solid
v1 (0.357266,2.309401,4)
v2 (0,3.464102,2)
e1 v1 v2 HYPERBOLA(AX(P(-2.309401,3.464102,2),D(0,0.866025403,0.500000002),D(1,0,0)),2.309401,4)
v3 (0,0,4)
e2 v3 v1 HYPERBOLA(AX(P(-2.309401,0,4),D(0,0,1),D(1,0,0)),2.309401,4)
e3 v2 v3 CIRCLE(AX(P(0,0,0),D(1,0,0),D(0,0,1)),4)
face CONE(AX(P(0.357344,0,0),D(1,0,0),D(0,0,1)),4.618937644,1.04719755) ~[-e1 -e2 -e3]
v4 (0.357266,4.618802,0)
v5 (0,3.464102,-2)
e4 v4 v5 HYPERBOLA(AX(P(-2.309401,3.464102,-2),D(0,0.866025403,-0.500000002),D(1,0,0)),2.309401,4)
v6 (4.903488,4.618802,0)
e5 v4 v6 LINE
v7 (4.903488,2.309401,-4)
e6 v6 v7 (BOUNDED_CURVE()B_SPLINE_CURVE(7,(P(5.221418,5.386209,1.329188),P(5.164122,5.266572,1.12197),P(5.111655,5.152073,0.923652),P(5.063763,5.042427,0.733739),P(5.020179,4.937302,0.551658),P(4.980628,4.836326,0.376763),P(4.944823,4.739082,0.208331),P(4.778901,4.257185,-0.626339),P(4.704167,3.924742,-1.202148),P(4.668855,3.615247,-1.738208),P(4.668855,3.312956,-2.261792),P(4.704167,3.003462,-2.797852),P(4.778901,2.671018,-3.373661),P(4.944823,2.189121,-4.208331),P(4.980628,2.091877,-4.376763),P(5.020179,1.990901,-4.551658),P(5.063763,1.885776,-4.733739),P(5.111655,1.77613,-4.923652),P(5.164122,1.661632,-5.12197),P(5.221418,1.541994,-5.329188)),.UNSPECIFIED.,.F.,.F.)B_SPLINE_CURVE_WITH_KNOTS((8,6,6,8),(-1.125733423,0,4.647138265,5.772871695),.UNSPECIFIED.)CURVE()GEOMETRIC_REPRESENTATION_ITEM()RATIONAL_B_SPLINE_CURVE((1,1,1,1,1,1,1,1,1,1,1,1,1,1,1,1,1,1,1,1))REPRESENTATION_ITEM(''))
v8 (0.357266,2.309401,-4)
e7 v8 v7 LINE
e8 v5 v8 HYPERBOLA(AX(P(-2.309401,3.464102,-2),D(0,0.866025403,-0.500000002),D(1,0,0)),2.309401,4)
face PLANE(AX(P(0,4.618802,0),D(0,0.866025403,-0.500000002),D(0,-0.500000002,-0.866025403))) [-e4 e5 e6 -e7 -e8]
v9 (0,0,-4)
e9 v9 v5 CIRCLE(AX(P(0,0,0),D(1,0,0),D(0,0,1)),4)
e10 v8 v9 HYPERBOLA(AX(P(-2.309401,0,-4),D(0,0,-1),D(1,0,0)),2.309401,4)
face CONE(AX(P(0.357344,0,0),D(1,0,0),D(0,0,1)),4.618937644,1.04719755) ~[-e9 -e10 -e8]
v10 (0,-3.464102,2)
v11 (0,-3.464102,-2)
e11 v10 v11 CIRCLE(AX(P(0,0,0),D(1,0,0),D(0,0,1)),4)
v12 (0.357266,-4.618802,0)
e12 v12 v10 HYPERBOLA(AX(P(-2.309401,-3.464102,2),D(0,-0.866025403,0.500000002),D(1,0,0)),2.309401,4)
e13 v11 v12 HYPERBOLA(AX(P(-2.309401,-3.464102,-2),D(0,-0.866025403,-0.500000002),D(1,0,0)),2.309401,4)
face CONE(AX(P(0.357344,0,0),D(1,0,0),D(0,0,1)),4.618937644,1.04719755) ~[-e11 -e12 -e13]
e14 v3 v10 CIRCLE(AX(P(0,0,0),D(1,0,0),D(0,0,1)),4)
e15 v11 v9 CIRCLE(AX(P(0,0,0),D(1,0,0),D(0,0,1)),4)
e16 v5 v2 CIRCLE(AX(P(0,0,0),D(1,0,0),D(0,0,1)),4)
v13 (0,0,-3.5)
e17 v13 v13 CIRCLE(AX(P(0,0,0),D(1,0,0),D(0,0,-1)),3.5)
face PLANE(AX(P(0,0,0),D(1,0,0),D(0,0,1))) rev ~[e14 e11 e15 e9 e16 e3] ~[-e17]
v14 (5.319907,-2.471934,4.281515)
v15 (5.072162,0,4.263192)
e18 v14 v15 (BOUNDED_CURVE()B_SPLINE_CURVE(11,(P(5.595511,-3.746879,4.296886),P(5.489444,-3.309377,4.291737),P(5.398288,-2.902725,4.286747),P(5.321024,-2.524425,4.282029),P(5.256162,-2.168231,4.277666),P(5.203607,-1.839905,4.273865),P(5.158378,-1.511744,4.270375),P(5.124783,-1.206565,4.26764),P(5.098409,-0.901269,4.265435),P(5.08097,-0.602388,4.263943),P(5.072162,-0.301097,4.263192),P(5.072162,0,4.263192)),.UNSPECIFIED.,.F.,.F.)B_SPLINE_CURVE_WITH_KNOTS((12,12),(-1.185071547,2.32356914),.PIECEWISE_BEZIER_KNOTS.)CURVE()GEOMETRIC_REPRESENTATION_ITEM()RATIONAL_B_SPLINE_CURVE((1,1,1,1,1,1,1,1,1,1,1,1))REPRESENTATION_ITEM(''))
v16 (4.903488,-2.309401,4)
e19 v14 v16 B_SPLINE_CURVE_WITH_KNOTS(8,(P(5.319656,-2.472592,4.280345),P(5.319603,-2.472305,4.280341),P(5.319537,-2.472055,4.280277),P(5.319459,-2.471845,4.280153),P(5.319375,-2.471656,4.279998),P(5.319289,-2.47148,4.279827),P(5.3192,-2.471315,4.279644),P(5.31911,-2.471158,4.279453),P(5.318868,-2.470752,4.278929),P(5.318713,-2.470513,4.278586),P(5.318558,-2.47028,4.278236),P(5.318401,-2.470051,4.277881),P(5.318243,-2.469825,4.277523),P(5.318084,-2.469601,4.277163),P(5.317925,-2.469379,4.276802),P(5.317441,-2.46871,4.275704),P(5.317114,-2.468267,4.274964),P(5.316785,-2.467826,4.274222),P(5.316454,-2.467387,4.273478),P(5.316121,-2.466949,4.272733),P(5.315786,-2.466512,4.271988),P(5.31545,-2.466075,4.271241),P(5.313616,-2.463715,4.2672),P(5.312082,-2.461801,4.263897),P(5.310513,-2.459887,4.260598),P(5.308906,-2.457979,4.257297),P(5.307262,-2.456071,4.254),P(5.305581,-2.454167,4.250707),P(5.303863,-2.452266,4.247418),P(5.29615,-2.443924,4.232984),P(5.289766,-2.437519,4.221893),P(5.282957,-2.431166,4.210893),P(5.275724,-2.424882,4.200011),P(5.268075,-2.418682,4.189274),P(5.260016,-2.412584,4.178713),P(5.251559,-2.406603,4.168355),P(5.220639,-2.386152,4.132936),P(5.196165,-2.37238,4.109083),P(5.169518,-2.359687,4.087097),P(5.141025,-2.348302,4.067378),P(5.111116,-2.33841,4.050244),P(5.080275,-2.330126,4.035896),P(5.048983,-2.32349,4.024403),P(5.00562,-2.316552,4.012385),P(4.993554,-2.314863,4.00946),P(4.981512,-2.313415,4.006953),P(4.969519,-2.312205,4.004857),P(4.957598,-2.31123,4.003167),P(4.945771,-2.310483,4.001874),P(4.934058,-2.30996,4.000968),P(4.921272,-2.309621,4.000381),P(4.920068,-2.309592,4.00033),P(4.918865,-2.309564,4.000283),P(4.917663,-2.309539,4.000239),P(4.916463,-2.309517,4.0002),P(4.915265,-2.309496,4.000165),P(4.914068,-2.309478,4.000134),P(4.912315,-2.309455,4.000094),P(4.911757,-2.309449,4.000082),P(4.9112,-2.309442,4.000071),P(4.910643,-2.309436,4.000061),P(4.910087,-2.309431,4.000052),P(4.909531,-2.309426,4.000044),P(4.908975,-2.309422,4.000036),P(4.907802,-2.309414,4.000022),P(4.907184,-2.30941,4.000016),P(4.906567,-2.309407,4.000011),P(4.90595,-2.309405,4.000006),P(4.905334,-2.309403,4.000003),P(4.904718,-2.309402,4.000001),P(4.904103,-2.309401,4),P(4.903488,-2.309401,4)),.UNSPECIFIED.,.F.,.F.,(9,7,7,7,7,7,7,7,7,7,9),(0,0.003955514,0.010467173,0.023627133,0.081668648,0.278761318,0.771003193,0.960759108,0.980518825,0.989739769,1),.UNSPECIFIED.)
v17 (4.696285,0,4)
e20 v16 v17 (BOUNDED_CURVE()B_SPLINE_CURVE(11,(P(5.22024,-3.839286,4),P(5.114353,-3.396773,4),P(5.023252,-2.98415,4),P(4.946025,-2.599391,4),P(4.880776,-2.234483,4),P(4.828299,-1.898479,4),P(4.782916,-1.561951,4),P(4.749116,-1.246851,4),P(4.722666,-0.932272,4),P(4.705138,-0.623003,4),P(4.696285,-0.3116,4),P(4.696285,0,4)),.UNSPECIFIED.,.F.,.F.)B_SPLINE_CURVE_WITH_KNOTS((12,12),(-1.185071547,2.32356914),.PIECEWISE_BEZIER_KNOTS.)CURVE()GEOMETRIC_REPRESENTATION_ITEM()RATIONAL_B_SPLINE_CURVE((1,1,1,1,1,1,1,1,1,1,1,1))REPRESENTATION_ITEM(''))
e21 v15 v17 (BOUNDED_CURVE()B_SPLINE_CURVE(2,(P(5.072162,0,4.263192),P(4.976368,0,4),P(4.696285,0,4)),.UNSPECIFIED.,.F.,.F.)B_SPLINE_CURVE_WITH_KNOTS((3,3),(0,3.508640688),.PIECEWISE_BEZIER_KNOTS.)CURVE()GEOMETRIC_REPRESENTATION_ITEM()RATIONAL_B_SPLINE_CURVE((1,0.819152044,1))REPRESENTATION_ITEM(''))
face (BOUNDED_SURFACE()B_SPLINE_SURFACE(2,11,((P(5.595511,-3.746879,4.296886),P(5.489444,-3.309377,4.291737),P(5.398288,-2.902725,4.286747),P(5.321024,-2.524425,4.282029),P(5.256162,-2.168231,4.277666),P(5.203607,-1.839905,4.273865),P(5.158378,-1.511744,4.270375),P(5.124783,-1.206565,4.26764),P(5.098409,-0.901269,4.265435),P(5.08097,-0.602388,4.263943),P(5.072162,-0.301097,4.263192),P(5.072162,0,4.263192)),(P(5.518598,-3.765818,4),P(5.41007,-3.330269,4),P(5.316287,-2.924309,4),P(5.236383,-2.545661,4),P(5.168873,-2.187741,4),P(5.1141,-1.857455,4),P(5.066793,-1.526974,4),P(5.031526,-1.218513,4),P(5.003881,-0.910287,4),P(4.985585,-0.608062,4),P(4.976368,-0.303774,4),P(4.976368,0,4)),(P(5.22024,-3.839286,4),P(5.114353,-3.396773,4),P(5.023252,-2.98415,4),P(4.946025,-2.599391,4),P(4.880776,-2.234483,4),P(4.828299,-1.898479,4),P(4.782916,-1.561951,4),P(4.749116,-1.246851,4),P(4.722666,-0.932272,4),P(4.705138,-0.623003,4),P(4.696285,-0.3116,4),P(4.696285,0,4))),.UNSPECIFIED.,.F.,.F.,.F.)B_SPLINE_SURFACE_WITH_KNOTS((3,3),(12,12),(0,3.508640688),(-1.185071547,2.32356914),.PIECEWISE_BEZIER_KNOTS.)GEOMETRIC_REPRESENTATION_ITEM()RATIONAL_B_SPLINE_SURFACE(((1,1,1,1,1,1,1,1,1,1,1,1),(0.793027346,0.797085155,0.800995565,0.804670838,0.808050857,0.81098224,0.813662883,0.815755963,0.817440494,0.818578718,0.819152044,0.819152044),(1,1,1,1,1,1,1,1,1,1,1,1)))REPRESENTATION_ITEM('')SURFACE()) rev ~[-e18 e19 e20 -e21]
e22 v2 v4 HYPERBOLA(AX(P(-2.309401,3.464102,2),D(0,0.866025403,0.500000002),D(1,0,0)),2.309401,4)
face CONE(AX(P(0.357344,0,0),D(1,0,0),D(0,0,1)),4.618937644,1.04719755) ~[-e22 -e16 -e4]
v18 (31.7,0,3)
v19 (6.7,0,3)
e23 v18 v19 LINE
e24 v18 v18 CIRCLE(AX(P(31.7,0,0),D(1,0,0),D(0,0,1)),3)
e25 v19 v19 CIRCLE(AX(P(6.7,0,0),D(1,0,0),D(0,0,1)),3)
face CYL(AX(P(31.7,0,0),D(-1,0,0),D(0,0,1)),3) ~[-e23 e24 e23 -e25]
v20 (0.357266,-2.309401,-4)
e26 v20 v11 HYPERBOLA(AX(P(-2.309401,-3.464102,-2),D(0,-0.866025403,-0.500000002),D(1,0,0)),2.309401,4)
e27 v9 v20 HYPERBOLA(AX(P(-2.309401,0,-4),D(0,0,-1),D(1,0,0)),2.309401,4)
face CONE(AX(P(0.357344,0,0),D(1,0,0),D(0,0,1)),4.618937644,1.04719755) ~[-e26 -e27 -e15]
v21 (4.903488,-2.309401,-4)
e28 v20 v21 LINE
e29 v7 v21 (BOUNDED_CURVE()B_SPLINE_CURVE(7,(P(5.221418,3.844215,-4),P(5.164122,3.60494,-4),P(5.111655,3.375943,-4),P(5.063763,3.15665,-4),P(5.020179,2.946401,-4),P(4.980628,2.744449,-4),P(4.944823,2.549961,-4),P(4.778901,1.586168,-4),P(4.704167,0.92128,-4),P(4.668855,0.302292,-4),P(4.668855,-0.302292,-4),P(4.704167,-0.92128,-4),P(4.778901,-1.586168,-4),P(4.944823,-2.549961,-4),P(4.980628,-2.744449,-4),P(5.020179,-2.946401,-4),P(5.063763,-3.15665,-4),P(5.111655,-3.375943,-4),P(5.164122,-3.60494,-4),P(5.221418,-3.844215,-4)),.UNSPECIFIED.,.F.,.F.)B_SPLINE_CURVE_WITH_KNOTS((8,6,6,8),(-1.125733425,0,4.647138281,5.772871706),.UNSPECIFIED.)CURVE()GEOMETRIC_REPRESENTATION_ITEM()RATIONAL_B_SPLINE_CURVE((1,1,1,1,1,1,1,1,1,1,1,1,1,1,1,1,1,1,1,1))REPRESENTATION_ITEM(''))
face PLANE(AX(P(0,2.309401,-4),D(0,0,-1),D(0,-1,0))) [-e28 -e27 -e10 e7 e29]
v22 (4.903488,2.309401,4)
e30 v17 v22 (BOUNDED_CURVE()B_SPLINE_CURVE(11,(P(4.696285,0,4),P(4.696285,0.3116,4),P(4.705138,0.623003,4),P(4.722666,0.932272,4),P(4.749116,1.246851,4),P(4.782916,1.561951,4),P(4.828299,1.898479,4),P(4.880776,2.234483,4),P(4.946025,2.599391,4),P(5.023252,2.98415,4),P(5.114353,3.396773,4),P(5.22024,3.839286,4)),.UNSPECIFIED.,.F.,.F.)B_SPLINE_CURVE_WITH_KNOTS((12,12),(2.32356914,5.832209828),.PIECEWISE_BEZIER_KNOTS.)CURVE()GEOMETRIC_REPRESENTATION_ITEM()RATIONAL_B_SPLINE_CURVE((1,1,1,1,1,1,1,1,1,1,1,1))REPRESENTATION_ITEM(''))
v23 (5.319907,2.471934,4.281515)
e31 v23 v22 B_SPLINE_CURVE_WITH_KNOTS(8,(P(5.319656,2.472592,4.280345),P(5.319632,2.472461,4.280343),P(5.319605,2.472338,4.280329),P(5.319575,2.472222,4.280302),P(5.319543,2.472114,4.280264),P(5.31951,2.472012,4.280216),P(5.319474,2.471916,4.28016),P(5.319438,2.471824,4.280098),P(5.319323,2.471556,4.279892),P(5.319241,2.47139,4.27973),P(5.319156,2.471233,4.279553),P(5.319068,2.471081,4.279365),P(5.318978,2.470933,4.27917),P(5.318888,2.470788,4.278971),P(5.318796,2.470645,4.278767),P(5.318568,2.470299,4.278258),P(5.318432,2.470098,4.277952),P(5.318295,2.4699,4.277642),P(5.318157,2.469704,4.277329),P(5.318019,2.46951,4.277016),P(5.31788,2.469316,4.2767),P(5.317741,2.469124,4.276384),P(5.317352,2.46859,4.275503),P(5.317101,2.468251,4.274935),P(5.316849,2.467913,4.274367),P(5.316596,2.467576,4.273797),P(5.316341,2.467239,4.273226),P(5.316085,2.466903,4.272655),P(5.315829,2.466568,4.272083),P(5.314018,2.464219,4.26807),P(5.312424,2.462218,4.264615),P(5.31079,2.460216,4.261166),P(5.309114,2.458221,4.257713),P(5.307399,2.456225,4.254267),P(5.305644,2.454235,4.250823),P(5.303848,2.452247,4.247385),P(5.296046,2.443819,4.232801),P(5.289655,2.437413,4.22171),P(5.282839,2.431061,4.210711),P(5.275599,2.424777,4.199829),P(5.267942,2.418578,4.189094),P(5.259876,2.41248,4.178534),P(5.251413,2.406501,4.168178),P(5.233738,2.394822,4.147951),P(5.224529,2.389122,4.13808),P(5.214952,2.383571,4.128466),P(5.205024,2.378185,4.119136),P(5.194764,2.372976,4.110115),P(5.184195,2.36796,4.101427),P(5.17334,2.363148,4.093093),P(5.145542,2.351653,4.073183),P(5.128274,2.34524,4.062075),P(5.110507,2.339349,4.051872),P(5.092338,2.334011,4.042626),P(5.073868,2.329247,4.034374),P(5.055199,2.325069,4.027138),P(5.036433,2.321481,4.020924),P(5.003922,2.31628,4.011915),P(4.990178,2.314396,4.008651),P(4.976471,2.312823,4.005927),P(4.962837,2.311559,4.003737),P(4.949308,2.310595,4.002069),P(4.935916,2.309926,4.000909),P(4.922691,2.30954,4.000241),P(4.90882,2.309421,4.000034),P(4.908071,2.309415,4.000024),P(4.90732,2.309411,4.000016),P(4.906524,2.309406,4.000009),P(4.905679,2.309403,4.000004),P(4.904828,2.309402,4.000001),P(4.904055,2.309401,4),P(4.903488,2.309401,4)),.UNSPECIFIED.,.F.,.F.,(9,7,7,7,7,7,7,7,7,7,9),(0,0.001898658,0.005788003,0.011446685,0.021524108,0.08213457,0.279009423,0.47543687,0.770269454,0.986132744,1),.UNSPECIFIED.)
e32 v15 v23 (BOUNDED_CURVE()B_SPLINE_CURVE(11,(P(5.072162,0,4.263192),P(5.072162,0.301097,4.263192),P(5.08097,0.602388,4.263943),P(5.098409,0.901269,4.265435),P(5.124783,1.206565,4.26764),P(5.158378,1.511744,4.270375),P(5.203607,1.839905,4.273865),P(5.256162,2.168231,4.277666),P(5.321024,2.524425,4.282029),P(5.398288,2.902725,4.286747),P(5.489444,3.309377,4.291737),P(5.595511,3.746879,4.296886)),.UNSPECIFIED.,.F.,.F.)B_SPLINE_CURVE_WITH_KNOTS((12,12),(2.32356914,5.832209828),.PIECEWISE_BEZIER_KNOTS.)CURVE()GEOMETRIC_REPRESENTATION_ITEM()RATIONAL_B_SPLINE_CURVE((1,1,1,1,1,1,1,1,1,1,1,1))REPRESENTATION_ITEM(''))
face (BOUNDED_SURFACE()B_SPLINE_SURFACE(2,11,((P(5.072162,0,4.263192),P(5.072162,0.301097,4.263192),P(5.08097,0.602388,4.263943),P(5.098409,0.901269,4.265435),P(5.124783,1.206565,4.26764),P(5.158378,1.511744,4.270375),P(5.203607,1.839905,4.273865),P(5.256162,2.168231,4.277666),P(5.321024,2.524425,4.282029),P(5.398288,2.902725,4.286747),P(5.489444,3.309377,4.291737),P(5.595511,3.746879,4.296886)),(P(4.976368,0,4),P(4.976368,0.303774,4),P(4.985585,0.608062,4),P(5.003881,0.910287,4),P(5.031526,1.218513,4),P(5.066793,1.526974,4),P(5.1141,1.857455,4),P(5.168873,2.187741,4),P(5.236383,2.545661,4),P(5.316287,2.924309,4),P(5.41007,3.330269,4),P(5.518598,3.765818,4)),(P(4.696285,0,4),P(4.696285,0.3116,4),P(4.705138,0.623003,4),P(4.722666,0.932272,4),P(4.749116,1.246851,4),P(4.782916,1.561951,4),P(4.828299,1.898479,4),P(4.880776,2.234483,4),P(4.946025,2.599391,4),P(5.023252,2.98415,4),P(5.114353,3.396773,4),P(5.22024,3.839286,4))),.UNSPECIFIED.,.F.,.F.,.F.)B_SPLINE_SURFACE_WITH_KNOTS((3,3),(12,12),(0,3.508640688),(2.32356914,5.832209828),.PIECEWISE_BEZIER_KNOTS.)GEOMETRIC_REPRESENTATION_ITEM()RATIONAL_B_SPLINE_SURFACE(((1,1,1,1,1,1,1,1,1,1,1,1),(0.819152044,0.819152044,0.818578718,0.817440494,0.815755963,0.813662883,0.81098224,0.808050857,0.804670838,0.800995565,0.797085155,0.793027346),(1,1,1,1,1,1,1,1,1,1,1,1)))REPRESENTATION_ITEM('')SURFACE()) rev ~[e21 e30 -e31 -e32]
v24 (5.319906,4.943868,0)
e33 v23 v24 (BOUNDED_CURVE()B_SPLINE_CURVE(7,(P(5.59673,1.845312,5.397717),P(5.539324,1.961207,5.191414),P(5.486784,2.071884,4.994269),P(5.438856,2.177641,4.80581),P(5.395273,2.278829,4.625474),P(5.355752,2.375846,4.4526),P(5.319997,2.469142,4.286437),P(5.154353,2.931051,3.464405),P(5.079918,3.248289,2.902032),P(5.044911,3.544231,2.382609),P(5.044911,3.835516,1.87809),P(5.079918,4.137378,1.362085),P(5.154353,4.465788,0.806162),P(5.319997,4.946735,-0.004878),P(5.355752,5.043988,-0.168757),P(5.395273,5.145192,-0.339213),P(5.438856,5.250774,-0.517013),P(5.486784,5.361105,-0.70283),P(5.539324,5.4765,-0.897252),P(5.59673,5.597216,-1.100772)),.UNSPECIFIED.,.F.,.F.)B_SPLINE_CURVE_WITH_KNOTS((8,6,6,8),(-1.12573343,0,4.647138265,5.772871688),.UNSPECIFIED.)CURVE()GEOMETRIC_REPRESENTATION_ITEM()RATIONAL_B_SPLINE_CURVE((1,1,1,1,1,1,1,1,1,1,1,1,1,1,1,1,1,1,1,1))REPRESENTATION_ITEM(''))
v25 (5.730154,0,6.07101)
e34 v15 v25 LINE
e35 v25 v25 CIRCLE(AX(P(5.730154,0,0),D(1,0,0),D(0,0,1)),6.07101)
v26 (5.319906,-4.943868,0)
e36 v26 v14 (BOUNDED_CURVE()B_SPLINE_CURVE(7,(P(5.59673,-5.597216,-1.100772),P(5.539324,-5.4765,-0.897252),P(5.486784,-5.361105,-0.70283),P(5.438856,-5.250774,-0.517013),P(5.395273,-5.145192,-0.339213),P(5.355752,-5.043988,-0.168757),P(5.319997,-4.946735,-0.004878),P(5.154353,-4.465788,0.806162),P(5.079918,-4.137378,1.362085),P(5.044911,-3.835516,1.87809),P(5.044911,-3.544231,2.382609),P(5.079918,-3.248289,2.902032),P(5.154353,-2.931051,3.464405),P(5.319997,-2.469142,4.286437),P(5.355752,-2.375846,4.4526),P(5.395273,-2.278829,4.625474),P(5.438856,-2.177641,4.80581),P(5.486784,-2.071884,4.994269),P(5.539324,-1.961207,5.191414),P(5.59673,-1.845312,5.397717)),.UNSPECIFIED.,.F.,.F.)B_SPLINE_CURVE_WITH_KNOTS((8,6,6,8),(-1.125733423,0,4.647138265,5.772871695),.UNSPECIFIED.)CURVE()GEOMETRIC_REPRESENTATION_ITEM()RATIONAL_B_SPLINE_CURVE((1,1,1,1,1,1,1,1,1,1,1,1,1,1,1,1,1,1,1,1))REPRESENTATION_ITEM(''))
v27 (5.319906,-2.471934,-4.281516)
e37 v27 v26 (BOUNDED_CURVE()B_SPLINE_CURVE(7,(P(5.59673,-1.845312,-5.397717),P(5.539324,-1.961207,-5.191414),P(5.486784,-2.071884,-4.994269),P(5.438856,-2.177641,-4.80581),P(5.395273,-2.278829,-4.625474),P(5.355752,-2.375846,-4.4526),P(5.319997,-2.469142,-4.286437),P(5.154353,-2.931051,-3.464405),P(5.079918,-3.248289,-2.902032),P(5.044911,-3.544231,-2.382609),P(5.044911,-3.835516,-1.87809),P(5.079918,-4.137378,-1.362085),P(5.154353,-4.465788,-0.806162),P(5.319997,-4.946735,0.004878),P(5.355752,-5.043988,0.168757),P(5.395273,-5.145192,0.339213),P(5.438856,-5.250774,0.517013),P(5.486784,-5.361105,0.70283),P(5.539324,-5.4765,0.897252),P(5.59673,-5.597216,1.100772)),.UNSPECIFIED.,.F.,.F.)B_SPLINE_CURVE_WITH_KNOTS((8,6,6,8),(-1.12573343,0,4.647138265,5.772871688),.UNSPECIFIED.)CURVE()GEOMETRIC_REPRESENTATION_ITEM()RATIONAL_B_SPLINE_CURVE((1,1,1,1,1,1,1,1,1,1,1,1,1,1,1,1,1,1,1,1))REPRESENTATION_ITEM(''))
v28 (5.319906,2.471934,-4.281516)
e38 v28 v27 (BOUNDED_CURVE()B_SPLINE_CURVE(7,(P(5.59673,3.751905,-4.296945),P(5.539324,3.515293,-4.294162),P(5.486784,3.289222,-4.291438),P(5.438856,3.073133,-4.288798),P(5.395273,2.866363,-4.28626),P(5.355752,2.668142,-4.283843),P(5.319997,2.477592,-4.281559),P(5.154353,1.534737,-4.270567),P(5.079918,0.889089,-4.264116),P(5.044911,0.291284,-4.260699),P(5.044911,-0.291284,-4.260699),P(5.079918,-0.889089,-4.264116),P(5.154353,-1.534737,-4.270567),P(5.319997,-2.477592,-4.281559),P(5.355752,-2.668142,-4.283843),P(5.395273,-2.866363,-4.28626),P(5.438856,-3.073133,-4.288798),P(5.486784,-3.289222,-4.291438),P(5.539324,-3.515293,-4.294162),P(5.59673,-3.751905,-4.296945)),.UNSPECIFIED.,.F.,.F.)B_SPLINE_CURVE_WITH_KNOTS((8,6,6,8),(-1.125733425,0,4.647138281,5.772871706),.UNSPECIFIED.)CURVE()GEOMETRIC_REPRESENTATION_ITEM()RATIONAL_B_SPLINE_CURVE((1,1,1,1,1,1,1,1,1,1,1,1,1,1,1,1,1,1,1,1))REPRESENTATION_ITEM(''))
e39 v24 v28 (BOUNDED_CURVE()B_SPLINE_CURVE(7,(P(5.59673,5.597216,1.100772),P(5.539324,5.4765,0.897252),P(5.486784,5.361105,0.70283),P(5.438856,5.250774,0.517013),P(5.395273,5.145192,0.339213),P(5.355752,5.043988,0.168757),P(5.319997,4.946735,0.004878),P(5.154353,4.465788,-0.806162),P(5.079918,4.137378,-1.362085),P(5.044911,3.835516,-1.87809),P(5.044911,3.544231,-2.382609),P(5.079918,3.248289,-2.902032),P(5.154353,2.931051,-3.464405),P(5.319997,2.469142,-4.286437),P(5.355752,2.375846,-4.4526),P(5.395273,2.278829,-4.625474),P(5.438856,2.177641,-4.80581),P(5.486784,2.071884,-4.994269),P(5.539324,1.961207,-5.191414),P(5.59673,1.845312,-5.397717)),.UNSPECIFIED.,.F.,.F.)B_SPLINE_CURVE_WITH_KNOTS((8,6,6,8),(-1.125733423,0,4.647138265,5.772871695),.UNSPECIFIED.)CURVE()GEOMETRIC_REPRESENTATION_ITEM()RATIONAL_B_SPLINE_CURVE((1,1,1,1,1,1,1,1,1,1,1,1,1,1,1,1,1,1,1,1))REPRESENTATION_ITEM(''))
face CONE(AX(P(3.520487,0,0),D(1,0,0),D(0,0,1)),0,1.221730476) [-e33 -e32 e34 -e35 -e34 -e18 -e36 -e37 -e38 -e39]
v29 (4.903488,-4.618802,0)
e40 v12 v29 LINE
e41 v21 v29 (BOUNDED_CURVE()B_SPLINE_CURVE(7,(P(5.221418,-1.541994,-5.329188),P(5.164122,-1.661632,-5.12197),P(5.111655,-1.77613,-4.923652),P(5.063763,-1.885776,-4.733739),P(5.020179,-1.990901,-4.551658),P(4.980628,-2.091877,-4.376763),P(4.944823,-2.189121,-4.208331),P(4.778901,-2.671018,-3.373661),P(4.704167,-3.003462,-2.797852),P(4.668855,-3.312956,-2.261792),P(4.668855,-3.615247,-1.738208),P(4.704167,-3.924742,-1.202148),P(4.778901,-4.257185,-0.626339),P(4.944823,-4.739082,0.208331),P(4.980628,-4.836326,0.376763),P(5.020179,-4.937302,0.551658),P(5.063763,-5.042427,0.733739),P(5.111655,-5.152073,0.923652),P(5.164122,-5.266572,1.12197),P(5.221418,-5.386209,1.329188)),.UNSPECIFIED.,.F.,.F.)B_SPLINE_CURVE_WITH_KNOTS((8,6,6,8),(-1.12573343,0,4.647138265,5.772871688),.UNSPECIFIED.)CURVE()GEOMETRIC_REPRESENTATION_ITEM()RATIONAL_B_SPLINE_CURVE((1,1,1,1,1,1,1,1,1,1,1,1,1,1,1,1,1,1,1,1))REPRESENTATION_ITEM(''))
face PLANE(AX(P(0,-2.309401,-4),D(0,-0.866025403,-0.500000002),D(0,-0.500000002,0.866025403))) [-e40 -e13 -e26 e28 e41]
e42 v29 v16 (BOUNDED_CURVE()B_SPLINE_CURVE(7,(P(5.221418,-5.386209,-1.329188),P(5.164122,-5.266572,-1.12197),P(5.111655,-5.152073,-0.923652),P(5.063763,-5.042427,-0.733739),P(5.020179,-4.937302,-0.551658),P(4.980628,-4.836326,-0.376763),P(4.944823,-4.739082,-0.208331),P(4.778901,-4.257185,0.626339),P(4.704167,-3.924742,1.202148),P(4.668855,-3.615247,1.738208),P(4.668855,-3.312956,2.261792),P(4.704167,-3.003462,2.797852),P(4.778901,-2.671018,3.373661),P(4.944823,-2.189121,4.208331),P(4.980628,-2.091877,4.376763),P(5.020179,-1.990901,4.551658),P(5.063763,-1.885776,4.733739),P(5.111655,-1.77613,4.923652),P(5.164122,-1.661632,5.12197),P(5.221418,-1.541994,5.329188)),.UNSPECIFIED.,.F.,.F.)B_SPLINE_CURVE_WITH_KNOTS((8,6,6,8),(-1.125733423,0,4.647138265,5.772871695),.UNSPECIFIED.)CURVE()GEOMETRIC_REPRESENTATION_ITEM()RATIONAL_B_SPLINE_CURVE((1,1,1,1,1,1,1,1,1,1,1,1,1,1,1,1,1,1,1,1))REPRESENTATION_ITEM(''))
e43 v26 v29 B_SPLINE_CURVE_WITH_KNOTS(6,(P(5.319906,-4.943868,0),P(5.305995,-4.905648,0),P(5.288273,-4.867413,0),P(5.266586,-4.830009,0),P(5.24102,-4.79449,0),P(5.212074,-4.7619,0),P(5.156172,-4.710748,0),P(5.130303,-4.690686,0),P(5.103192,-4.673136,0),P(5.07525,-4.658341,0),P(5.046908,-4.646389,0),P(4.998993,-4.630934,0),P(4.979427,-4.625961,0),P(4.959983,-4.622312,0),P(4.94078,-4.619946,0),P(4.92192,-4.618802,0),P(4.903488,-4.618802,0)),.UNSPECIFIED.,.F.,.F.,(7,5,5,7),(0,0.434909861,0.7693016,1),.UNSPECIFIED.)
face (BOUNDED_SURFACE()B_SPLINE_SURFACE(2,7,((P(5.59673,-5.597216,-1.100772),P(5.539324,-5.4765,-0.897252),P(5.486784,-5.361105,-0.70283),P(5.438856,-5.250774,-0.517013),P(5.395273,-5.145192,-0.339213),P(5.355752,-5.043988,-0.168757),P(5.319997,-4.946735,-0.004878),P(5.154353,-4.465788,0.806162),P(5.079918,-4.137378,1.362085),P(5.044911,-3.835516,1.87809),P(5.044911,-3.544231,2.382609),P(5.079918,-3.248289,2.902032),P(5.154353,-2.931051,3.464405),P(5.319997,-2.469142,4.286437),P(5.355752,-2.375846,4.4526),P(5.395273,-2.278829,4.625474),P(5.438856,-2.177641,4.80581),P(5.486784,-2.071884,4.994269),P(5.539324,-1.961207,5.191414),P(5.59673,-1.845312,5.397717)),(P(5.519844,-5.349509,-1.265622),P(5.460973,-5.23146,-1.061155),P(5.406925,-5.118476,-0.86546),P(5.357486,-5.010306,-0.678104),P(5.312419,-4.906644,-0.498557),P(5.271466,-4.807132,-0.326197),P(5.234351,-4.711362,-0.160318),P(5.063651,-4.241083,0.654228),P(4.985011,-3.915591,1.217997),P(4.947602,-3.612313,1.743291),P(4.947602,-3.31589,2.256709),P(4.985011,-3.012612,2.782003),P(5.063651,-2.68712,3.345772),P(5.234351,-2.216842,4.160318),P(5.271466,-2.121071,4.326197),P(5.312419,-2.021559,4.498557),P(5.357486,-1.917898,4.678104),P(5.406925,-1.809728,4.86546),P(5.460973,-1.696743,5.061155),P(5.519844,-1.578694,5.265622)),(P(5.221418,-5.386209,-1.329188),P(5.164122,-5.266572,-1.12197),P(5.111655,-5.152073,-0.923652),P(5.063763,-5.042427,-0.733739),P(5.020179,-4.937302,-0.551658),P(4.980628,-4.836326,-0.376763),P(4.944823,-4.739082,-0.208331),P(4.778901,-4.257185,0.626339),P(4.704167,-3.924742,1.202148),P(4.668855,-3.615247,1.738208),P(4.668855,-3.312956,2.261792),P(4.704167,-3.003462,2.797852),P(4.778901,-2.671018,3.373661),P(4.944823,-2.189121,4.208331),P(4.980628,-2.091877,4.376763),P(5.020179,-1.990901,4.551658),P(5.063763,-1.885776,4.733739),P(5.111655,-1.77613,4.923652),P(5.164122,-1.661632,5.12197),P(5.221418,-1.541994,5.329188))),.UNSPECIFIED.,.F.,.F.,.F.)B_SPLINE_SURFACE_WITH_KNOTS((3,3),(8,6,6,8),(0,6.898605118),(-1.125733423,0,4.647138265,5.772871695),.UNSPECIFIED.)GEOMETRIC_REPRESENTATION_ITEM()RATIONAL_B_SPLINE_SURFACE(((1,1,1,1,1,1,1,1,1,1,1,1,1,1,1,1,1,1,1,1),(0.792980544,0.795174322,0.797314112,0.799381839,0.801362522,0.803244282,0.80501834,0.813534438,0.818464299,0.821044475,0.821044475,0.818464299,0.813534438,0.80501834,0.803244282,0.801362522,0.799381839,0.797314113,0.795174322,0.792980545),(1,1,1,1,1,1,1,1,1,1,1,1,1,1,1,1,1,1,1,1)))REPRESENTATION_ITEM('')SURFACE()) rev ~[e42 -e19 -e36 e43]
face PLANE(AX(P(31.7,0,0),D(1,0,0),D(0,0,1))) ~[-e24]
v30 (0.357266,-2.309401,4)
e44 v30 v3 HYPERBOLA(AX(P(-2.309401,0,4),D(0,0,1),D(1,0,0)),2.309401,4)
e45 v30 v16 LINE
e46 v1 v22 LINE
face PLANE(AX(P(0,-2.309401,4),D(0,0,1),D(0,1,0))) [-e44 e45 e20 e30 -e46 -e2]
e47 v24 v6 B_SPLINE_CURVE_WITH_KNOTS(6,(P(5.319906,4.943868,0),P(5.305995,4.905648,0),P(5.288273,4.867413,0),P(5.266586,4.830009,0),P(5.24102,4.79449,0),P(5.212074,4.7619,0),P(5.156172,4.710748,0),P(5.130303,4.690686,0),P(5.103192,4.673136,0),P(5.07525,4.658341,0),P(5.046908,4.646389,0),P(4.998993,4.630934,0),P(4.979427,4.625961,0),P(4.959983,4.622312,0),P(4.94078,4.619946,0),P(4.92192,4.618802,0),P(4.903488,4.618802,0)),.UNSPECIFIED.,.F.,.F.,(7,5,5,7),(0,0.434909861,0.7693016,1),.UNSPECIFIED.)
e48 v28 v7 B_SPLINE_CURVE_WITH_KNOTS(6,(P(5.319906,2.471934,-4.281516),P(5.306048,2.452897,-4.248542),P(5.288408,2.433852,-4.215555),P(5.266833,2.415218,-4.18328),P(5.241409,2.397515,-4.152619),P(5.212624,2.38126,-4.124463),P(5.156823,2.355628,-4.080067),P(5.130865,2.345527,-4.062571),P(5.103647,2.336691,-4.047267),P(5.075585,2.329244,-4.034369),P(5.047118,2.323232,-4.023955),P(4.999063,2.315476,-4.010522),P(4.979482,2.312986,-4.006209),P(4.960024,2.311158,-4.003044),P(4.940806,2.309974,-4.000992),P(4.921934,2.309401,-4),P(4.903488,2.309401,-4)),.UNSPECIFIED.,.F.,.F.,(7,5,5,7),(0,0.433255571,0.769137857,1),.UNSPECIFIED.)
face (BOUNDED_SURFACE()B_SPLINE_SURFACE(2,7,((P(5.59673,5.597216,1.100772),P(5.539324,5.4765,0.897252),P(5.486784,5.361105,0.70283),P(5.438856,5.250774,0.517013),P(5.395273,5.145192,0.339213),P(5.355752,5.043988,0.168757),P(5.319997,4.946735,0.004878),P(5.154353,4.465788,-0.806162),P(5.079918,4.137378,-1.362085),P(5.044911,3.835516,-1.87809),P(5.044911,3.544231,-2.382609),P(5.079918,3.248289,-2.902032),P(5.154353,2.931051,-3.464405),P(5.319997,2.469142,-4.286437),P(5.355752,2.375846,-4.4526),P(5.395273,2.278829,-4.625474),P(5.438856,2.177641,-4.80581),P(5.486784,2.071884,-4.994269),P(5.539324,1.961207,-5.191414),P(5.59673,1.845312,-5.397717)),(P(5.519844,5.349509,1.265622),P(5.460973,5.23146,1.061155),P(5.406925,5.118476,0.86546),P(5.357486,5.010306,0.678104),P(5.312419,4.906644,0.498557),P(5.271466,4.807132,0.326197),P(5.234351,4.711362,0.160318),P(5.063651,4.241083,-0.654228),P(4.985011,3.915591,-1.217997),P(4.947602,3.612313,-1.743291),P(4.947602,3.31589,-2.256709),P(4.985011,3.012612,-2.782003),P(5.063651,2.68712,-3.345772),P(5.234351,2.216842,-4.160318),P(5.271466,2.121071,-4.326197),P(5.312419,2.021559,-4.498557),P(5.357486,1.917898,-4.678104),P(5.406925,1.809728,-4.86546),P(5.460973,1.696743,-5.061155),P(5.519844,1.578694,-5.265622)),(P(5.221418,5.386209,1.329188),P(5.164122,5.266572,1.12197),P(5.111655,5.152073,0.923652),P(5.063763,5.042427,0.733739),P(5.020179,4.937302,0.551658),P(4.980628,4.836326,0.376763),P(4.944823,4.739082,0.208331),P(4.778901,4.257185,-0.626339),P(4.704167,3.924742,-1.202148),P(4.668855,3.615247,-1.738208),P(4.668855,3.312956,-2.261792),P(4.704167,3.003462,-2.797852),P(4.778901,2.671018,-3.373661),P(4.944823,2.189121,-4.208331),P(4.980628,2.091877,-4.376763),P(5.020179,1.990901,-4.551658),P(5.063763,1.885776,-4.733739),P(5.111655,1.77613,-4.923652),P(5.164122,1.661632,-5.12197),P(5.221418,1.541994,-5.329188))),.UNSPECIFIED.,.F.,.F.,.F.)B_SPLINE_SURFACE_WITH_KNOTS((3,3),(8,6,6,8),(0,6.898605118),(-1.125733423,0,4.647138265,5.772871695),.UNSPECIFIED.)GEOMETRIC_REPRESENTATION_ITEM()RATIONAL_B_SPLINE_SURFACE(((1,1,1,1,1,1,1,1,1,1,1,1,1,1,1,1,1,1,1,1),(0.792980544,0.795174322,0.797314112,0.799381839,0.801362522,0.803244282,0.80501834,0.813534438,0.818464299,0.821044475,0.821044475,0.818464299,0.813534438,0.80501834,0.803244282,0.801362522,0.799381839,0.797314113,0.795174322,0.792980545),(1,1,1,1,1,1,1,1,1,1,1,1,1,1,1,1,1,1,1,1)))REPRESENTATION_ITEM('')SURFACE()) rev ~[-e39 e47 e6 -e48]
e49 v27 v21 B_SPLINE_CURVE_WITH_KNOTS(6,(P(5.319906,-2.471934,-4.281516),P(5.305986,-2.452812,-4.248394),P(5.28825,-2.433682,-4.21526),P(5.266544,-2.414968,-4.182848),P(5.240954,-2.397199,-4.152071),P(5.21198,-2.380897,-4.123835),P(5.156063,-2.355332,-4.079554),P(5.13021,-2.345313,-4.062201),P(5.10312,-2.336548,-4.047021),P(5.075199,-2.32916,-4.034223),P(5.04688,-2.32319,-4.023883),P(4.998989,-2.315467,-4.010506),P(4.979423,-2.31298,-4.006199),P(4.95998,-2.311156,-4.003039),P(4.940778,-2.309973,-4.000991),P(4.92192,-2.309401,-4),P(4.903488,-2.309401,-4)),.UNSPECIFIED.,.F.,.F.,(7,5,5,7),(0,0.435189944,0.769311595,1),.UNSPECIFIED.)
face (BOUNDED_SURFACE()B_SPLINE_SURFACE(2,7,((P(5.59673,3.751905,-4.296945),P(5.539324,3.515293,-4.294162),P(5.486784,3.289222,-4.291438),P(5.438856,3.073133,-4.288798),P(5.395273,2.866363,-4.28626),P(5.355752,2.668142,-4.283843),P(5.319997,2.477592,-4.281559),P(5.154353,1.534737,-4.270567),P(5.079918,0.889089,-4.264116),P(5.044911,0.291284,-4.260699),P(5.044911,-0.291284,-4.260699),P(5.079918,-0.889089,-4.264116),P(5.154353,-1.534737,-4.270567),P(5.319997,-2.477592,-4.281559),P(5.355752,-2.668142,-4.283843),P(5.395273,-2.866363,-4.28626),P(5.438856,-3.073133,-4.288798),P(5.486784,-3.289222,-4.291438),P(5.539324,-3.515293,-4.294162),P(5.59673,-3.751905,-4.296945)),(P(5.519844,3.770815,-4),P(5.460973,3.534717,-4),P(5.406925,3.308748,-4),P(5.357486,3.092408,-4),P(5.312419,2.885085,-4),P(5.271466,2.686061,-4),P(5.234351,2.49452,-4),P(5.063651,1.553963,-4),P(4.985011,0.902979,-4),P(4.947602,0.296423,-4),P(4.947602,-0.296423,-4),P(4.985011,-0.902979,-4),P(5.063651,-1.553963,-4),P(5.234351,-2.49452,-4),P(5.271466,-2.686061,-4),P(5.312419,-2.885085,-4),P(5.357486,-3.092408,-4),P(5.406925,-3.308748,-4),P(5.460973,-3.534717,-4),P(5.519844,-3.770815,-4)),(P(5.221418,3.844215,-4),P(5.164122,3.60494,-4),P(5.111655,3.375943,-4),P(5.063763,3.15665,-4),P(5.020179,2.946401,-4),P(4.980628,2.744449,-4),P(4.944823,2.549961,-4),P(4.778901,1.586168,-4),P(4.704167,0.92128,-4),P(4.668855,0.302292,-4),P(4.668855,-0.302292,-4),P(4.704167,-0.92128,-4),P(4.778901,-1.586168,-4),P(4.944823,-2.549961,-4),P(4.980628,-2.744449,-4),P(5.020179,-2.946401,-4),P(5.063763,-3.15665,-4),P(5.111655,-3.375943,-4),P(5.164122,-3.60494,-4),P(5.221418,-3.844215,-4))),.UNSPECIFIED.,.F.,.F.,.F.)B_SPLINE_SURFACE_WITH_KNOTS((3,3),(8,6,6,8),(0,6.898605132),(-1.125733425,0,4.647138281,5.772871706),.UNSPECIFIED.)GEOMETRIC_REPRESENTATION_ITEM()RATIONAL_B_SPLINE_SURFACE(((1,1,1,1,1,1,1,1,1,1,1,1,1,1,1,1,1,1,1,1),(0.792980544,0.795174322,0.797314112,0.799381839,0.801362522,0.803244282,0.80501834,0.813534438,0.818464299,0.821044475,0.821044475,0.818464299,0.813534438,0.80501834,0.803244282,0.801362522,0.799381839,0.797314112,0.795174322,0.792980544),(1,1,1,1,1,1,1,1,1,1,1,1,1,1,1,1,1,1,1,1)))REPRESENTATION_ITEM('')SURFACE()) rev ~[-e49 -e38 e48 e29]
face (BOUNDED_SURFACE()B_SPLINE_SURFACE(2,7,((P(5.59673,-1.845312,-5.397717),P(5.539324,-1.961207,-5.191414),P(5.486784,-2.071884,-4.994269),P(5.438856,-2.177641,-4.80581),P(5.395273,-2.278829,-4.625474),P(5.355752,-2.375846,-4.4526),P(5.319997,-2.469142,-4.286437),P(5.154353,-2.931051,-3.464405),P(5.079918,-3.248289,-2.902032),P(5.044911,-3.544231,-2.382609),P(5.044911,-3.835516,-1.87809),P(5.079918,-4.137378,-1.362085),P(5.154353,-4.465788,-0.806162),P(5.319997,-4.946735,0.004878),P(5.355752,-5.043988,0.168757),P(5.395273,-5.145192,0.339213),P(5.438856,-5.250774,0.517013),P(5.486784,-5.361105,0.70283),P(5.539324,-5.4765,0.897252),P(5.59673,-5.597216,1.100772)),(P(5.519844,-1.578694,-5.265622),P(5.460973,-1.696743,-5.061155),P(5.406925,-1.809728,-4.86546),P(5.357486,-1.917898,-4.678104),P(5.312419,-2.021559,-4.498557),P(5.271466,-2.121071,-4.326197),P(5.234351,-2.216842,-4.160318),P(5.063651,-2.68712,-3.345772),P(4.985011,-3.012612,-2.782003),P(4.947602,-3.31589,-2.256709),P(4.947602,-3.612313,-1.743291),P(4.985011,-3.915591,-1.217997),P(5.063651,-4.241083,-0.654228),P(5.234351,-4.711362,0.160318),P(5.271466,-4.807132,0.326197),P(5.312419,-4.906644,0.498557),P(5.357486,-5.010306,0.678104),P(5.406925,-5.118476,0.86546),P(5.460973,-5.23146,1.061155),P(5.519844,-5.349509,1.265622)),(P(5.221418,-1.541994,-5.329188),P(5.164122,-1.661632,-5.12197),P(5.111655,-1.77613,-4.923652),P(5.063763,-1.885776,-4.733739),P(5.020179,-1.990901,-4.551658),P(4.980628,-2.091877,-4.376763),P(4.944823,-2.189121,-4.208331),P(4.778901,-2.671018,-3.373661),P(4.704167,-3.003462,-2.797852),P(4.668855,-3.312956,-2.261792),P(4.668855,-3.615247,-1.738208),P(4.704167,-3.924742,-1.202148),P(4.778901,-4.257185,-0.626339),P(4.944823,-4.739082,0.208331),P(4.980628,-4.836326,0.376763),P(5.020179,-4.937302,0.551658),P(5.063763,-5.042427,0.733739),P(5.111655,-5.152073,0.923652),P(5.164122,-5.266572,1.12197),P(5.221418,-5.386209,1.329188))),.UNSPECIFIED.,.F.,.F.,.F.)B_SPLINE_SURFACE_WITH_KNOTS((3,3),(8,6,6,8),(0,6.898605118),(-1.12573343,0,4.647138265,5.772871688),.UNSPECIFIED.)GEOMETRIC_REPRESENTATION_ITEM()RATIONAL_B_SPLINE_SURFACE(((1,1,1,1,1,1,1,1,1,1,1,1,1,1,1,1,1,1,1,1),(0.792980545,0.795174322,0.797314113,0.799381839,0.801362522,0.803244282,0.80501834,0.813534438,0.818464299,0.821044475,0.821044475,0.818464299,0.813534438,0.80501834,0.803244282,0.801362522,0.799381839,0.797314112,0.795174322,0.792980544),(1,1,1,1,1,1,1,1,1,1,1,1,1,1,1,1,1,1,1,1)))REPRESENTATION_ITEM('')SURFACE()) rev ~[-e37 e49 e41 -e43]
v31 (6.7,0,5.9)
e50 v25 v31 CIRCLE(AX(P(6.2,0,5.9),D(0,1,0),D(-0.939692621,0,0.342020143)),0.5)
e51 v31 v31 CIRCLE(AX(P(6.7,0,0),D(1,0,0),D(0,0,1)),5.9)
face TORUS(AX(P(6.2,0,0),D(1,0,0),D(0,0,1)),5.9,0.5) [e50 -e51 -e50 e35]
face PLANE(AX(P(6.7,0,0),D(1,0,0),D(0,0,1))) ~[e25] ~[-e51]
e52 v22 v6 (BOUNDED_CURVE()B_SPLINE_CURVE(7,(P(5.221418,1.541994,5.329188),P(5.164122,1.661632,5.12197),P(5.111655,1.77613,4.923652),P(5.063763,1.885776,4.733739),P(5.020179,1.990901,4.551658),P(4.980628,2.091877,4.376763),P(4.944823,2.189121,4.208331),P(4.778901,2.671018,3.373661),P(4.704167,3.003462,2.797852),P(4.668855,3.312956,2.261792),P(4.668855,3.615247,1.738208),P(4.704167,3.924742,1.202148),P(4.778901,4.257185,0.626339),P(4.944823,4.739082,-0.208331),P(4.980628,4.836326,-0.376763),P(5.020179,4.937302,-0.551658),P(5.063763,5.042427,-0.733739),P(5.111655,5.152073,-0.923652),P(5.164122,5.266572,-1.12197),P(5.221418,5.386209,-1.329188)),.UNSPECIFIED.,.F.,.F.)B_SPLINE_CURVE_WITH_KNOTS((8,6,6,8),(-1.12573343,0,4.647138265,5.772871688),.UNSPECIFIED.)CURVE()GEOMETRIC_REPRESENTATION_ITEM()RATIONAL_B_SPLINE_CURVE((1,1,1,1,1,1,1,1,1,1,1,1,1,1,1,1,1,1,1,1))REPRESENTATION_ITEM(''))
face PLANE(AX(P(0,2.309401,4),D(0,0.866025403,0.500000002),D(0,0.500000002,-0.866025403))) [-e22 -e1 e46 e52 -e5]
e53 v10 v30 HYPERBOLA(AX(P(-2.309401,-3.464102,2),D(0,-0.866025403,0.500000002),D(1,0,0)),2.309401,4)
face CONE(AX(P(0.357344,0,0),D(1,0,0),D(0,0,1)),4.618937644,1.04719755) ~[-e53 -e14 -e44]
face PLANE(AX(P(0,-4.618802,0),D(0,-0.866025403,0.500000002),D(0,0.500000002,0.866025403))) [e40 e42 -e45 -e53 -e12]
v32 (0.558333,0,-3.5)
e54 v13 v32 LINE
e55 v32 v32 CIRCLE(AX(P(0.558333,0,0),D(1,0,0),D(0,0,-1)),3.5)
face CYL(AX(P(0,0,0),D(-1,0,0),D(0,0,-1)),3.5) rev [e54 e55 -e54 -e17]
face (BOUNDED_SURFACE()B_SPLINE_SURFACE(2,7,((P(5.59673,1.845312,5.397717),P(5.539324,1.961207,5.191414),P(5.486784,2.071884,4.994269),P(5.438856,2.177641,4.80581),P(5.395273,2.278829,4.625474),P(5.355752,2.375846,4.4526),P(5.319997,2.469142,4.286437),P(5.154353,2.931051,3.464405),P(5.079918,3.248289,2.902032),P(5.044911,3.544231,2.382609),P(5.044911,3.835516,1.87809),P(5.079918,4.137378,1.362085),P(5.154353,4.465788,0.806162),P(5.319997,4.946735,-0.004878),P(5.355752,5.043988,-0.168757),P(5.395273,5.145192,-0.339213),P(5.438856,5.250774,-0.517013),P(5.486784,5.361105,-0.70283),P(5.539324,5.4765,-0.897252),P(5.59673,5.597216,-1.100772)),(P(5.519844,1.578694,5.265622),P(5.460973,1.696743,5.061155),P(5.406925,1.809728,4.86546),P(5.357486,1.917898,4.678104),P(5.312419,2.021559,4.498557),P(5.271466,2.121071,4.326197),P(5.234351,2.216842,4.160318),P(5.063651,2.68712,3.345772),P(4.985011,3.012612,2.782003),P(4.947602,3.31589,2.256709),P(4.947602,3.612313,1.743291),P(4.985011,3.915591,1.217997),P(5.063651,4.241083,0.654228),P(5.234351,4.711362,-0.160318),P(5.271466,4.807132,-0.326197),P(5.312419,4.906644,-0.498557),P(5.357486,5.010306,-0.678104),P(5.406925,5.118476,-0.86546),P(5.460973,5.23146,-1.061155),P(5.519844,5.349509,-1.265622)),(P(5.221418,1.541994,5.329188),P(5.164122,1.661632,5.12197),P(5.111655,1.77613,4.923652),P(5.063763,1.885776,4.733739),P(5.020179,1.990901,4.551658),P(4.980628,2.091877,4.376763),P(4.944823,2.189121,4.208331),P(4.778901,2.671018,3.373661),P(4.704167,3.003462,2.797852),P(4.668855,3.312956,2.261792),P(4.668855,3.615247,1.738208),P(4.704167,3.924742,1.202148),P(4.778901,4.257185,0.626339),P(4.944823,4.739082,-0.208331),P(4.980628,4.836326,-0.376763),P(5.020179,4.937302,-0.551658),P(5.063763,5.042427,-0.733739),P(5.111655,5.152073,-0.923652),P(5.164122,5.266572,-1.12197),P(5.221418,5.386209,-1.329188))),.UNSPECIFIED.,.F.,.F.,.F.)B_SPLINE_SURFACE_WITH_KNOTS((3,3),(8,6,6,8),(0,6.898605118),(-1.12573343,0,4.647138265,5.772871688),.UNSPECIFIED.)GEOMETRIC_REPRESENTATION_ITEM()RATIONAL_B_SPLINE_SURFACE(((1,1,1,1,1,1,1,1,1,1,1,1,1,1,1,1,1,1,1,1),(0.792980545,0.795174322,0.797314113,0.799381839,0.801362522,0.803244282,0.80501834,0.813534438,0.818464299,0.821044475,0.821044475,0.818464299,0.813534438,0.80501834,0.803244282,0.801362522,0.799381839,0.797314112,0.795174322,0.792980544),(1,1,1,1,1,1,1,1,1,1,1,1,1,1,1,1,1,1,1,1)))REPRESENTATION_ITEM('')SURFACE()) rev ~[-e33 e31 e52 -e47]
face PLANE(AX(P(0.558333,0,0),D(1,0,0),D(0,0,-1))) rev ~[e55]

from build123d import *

# Parameters (mm, degrees)
SKETCH2_R         = 4.665127021
HEX_DIE_DEPTH     = 6.7
FLANGEHEXFILLET_R = 0.4
SKETCH4_R         = 3.5
INDENT_DEPTH      = 0.558333333


with BuildPart() as part:
    # BodySke → Base-Revolve (revolve)
    with BuildSketch(Plane.XY, mode=Mode.PRIVATE) as base_revolve_sk:
        Polygon((6.7, 3), (6.7, 4.618937644), (0.357343816, 4.618937644), (0, 4), (0, 0), (31.7, 0), (31.7, 3), align=None)
    revolve(base_revolve_sk.sketch.rotate(Axis((-25.4, 0, 0), (1, 0, 0)), 90), axis=Axis((-25.4, 0, 0), (1, 0, 0)))

    # Sketch2 → Hex-Die (cut)
    with BuildSketch(Plane(origin=(0, 0, 0), x_dir=(0, 0, -1), z_dir=(1, 0, 0))):
        Circle(SKETCH2_R)
        Polygon((-4, 2.309401087), (0, 4.618802174), (4, 2.309401087), (4, -2.309401087), (0, -4.618802174), (-4, -2.309401087), align=None, mode=Mode.SUBTRACT)
    extrude(amount=HEX_DIE_DEPTH, mode=Mode.SUBTRACT)

    # Sketch5 → Flange (revolve)
    with BuildSketch(Plane.XY, mode=Mode.PRIVATE) as flange_sk:
        with BuildLine():
            Line((3.520486732, 0), (5.73015369, 6.071010072))
            ThreePointArc((5.73015369, 6.071010072), (6.286824089, 6.392403877), (6.7, 5.9))
            Line((6.7, 5.9), (6.7, 0))
            Line((6.7, 0), (3.520486732, 0))
        make_face()
    revolve(flange_sk.sketch.rotate(Axis((0, 0, 0), (1, 0, 0)), 90), axis=Axis((0, 0, 0), (1, 0, 0)))

    # FlangeHexFillet
    flangehexfillet_edges = [part.edges().sort_by_distance(p)[0] for p in [
        (5.036325168, 1.159737723, 4),
        (4.976367673, 3.46410163, 2),
        (4.976367673, 3.46410163, -2),
        (4.976367669, 0, -4),
        (4.976367673, -3.46410163, -2),
        (4.976367673, -3.46410163, 2),
        (5.036325168, -1.159737723, 4),
    ]]
    fillet(flangehexfillet_edges, radius=FLANGEHEXFILLET_R)

    # Sketch4 → Indent (cut)
    with BuildSketch(Plane(origin=(0, 0, 0), x_dir=(0, 0, -1), z_dir=(1, 0, 0))):
        Circle(SKETCH4_R)
    extrude(amount=INDENT_DEPTH, mode=Mode.SUBTRACT)


solid = part.part
